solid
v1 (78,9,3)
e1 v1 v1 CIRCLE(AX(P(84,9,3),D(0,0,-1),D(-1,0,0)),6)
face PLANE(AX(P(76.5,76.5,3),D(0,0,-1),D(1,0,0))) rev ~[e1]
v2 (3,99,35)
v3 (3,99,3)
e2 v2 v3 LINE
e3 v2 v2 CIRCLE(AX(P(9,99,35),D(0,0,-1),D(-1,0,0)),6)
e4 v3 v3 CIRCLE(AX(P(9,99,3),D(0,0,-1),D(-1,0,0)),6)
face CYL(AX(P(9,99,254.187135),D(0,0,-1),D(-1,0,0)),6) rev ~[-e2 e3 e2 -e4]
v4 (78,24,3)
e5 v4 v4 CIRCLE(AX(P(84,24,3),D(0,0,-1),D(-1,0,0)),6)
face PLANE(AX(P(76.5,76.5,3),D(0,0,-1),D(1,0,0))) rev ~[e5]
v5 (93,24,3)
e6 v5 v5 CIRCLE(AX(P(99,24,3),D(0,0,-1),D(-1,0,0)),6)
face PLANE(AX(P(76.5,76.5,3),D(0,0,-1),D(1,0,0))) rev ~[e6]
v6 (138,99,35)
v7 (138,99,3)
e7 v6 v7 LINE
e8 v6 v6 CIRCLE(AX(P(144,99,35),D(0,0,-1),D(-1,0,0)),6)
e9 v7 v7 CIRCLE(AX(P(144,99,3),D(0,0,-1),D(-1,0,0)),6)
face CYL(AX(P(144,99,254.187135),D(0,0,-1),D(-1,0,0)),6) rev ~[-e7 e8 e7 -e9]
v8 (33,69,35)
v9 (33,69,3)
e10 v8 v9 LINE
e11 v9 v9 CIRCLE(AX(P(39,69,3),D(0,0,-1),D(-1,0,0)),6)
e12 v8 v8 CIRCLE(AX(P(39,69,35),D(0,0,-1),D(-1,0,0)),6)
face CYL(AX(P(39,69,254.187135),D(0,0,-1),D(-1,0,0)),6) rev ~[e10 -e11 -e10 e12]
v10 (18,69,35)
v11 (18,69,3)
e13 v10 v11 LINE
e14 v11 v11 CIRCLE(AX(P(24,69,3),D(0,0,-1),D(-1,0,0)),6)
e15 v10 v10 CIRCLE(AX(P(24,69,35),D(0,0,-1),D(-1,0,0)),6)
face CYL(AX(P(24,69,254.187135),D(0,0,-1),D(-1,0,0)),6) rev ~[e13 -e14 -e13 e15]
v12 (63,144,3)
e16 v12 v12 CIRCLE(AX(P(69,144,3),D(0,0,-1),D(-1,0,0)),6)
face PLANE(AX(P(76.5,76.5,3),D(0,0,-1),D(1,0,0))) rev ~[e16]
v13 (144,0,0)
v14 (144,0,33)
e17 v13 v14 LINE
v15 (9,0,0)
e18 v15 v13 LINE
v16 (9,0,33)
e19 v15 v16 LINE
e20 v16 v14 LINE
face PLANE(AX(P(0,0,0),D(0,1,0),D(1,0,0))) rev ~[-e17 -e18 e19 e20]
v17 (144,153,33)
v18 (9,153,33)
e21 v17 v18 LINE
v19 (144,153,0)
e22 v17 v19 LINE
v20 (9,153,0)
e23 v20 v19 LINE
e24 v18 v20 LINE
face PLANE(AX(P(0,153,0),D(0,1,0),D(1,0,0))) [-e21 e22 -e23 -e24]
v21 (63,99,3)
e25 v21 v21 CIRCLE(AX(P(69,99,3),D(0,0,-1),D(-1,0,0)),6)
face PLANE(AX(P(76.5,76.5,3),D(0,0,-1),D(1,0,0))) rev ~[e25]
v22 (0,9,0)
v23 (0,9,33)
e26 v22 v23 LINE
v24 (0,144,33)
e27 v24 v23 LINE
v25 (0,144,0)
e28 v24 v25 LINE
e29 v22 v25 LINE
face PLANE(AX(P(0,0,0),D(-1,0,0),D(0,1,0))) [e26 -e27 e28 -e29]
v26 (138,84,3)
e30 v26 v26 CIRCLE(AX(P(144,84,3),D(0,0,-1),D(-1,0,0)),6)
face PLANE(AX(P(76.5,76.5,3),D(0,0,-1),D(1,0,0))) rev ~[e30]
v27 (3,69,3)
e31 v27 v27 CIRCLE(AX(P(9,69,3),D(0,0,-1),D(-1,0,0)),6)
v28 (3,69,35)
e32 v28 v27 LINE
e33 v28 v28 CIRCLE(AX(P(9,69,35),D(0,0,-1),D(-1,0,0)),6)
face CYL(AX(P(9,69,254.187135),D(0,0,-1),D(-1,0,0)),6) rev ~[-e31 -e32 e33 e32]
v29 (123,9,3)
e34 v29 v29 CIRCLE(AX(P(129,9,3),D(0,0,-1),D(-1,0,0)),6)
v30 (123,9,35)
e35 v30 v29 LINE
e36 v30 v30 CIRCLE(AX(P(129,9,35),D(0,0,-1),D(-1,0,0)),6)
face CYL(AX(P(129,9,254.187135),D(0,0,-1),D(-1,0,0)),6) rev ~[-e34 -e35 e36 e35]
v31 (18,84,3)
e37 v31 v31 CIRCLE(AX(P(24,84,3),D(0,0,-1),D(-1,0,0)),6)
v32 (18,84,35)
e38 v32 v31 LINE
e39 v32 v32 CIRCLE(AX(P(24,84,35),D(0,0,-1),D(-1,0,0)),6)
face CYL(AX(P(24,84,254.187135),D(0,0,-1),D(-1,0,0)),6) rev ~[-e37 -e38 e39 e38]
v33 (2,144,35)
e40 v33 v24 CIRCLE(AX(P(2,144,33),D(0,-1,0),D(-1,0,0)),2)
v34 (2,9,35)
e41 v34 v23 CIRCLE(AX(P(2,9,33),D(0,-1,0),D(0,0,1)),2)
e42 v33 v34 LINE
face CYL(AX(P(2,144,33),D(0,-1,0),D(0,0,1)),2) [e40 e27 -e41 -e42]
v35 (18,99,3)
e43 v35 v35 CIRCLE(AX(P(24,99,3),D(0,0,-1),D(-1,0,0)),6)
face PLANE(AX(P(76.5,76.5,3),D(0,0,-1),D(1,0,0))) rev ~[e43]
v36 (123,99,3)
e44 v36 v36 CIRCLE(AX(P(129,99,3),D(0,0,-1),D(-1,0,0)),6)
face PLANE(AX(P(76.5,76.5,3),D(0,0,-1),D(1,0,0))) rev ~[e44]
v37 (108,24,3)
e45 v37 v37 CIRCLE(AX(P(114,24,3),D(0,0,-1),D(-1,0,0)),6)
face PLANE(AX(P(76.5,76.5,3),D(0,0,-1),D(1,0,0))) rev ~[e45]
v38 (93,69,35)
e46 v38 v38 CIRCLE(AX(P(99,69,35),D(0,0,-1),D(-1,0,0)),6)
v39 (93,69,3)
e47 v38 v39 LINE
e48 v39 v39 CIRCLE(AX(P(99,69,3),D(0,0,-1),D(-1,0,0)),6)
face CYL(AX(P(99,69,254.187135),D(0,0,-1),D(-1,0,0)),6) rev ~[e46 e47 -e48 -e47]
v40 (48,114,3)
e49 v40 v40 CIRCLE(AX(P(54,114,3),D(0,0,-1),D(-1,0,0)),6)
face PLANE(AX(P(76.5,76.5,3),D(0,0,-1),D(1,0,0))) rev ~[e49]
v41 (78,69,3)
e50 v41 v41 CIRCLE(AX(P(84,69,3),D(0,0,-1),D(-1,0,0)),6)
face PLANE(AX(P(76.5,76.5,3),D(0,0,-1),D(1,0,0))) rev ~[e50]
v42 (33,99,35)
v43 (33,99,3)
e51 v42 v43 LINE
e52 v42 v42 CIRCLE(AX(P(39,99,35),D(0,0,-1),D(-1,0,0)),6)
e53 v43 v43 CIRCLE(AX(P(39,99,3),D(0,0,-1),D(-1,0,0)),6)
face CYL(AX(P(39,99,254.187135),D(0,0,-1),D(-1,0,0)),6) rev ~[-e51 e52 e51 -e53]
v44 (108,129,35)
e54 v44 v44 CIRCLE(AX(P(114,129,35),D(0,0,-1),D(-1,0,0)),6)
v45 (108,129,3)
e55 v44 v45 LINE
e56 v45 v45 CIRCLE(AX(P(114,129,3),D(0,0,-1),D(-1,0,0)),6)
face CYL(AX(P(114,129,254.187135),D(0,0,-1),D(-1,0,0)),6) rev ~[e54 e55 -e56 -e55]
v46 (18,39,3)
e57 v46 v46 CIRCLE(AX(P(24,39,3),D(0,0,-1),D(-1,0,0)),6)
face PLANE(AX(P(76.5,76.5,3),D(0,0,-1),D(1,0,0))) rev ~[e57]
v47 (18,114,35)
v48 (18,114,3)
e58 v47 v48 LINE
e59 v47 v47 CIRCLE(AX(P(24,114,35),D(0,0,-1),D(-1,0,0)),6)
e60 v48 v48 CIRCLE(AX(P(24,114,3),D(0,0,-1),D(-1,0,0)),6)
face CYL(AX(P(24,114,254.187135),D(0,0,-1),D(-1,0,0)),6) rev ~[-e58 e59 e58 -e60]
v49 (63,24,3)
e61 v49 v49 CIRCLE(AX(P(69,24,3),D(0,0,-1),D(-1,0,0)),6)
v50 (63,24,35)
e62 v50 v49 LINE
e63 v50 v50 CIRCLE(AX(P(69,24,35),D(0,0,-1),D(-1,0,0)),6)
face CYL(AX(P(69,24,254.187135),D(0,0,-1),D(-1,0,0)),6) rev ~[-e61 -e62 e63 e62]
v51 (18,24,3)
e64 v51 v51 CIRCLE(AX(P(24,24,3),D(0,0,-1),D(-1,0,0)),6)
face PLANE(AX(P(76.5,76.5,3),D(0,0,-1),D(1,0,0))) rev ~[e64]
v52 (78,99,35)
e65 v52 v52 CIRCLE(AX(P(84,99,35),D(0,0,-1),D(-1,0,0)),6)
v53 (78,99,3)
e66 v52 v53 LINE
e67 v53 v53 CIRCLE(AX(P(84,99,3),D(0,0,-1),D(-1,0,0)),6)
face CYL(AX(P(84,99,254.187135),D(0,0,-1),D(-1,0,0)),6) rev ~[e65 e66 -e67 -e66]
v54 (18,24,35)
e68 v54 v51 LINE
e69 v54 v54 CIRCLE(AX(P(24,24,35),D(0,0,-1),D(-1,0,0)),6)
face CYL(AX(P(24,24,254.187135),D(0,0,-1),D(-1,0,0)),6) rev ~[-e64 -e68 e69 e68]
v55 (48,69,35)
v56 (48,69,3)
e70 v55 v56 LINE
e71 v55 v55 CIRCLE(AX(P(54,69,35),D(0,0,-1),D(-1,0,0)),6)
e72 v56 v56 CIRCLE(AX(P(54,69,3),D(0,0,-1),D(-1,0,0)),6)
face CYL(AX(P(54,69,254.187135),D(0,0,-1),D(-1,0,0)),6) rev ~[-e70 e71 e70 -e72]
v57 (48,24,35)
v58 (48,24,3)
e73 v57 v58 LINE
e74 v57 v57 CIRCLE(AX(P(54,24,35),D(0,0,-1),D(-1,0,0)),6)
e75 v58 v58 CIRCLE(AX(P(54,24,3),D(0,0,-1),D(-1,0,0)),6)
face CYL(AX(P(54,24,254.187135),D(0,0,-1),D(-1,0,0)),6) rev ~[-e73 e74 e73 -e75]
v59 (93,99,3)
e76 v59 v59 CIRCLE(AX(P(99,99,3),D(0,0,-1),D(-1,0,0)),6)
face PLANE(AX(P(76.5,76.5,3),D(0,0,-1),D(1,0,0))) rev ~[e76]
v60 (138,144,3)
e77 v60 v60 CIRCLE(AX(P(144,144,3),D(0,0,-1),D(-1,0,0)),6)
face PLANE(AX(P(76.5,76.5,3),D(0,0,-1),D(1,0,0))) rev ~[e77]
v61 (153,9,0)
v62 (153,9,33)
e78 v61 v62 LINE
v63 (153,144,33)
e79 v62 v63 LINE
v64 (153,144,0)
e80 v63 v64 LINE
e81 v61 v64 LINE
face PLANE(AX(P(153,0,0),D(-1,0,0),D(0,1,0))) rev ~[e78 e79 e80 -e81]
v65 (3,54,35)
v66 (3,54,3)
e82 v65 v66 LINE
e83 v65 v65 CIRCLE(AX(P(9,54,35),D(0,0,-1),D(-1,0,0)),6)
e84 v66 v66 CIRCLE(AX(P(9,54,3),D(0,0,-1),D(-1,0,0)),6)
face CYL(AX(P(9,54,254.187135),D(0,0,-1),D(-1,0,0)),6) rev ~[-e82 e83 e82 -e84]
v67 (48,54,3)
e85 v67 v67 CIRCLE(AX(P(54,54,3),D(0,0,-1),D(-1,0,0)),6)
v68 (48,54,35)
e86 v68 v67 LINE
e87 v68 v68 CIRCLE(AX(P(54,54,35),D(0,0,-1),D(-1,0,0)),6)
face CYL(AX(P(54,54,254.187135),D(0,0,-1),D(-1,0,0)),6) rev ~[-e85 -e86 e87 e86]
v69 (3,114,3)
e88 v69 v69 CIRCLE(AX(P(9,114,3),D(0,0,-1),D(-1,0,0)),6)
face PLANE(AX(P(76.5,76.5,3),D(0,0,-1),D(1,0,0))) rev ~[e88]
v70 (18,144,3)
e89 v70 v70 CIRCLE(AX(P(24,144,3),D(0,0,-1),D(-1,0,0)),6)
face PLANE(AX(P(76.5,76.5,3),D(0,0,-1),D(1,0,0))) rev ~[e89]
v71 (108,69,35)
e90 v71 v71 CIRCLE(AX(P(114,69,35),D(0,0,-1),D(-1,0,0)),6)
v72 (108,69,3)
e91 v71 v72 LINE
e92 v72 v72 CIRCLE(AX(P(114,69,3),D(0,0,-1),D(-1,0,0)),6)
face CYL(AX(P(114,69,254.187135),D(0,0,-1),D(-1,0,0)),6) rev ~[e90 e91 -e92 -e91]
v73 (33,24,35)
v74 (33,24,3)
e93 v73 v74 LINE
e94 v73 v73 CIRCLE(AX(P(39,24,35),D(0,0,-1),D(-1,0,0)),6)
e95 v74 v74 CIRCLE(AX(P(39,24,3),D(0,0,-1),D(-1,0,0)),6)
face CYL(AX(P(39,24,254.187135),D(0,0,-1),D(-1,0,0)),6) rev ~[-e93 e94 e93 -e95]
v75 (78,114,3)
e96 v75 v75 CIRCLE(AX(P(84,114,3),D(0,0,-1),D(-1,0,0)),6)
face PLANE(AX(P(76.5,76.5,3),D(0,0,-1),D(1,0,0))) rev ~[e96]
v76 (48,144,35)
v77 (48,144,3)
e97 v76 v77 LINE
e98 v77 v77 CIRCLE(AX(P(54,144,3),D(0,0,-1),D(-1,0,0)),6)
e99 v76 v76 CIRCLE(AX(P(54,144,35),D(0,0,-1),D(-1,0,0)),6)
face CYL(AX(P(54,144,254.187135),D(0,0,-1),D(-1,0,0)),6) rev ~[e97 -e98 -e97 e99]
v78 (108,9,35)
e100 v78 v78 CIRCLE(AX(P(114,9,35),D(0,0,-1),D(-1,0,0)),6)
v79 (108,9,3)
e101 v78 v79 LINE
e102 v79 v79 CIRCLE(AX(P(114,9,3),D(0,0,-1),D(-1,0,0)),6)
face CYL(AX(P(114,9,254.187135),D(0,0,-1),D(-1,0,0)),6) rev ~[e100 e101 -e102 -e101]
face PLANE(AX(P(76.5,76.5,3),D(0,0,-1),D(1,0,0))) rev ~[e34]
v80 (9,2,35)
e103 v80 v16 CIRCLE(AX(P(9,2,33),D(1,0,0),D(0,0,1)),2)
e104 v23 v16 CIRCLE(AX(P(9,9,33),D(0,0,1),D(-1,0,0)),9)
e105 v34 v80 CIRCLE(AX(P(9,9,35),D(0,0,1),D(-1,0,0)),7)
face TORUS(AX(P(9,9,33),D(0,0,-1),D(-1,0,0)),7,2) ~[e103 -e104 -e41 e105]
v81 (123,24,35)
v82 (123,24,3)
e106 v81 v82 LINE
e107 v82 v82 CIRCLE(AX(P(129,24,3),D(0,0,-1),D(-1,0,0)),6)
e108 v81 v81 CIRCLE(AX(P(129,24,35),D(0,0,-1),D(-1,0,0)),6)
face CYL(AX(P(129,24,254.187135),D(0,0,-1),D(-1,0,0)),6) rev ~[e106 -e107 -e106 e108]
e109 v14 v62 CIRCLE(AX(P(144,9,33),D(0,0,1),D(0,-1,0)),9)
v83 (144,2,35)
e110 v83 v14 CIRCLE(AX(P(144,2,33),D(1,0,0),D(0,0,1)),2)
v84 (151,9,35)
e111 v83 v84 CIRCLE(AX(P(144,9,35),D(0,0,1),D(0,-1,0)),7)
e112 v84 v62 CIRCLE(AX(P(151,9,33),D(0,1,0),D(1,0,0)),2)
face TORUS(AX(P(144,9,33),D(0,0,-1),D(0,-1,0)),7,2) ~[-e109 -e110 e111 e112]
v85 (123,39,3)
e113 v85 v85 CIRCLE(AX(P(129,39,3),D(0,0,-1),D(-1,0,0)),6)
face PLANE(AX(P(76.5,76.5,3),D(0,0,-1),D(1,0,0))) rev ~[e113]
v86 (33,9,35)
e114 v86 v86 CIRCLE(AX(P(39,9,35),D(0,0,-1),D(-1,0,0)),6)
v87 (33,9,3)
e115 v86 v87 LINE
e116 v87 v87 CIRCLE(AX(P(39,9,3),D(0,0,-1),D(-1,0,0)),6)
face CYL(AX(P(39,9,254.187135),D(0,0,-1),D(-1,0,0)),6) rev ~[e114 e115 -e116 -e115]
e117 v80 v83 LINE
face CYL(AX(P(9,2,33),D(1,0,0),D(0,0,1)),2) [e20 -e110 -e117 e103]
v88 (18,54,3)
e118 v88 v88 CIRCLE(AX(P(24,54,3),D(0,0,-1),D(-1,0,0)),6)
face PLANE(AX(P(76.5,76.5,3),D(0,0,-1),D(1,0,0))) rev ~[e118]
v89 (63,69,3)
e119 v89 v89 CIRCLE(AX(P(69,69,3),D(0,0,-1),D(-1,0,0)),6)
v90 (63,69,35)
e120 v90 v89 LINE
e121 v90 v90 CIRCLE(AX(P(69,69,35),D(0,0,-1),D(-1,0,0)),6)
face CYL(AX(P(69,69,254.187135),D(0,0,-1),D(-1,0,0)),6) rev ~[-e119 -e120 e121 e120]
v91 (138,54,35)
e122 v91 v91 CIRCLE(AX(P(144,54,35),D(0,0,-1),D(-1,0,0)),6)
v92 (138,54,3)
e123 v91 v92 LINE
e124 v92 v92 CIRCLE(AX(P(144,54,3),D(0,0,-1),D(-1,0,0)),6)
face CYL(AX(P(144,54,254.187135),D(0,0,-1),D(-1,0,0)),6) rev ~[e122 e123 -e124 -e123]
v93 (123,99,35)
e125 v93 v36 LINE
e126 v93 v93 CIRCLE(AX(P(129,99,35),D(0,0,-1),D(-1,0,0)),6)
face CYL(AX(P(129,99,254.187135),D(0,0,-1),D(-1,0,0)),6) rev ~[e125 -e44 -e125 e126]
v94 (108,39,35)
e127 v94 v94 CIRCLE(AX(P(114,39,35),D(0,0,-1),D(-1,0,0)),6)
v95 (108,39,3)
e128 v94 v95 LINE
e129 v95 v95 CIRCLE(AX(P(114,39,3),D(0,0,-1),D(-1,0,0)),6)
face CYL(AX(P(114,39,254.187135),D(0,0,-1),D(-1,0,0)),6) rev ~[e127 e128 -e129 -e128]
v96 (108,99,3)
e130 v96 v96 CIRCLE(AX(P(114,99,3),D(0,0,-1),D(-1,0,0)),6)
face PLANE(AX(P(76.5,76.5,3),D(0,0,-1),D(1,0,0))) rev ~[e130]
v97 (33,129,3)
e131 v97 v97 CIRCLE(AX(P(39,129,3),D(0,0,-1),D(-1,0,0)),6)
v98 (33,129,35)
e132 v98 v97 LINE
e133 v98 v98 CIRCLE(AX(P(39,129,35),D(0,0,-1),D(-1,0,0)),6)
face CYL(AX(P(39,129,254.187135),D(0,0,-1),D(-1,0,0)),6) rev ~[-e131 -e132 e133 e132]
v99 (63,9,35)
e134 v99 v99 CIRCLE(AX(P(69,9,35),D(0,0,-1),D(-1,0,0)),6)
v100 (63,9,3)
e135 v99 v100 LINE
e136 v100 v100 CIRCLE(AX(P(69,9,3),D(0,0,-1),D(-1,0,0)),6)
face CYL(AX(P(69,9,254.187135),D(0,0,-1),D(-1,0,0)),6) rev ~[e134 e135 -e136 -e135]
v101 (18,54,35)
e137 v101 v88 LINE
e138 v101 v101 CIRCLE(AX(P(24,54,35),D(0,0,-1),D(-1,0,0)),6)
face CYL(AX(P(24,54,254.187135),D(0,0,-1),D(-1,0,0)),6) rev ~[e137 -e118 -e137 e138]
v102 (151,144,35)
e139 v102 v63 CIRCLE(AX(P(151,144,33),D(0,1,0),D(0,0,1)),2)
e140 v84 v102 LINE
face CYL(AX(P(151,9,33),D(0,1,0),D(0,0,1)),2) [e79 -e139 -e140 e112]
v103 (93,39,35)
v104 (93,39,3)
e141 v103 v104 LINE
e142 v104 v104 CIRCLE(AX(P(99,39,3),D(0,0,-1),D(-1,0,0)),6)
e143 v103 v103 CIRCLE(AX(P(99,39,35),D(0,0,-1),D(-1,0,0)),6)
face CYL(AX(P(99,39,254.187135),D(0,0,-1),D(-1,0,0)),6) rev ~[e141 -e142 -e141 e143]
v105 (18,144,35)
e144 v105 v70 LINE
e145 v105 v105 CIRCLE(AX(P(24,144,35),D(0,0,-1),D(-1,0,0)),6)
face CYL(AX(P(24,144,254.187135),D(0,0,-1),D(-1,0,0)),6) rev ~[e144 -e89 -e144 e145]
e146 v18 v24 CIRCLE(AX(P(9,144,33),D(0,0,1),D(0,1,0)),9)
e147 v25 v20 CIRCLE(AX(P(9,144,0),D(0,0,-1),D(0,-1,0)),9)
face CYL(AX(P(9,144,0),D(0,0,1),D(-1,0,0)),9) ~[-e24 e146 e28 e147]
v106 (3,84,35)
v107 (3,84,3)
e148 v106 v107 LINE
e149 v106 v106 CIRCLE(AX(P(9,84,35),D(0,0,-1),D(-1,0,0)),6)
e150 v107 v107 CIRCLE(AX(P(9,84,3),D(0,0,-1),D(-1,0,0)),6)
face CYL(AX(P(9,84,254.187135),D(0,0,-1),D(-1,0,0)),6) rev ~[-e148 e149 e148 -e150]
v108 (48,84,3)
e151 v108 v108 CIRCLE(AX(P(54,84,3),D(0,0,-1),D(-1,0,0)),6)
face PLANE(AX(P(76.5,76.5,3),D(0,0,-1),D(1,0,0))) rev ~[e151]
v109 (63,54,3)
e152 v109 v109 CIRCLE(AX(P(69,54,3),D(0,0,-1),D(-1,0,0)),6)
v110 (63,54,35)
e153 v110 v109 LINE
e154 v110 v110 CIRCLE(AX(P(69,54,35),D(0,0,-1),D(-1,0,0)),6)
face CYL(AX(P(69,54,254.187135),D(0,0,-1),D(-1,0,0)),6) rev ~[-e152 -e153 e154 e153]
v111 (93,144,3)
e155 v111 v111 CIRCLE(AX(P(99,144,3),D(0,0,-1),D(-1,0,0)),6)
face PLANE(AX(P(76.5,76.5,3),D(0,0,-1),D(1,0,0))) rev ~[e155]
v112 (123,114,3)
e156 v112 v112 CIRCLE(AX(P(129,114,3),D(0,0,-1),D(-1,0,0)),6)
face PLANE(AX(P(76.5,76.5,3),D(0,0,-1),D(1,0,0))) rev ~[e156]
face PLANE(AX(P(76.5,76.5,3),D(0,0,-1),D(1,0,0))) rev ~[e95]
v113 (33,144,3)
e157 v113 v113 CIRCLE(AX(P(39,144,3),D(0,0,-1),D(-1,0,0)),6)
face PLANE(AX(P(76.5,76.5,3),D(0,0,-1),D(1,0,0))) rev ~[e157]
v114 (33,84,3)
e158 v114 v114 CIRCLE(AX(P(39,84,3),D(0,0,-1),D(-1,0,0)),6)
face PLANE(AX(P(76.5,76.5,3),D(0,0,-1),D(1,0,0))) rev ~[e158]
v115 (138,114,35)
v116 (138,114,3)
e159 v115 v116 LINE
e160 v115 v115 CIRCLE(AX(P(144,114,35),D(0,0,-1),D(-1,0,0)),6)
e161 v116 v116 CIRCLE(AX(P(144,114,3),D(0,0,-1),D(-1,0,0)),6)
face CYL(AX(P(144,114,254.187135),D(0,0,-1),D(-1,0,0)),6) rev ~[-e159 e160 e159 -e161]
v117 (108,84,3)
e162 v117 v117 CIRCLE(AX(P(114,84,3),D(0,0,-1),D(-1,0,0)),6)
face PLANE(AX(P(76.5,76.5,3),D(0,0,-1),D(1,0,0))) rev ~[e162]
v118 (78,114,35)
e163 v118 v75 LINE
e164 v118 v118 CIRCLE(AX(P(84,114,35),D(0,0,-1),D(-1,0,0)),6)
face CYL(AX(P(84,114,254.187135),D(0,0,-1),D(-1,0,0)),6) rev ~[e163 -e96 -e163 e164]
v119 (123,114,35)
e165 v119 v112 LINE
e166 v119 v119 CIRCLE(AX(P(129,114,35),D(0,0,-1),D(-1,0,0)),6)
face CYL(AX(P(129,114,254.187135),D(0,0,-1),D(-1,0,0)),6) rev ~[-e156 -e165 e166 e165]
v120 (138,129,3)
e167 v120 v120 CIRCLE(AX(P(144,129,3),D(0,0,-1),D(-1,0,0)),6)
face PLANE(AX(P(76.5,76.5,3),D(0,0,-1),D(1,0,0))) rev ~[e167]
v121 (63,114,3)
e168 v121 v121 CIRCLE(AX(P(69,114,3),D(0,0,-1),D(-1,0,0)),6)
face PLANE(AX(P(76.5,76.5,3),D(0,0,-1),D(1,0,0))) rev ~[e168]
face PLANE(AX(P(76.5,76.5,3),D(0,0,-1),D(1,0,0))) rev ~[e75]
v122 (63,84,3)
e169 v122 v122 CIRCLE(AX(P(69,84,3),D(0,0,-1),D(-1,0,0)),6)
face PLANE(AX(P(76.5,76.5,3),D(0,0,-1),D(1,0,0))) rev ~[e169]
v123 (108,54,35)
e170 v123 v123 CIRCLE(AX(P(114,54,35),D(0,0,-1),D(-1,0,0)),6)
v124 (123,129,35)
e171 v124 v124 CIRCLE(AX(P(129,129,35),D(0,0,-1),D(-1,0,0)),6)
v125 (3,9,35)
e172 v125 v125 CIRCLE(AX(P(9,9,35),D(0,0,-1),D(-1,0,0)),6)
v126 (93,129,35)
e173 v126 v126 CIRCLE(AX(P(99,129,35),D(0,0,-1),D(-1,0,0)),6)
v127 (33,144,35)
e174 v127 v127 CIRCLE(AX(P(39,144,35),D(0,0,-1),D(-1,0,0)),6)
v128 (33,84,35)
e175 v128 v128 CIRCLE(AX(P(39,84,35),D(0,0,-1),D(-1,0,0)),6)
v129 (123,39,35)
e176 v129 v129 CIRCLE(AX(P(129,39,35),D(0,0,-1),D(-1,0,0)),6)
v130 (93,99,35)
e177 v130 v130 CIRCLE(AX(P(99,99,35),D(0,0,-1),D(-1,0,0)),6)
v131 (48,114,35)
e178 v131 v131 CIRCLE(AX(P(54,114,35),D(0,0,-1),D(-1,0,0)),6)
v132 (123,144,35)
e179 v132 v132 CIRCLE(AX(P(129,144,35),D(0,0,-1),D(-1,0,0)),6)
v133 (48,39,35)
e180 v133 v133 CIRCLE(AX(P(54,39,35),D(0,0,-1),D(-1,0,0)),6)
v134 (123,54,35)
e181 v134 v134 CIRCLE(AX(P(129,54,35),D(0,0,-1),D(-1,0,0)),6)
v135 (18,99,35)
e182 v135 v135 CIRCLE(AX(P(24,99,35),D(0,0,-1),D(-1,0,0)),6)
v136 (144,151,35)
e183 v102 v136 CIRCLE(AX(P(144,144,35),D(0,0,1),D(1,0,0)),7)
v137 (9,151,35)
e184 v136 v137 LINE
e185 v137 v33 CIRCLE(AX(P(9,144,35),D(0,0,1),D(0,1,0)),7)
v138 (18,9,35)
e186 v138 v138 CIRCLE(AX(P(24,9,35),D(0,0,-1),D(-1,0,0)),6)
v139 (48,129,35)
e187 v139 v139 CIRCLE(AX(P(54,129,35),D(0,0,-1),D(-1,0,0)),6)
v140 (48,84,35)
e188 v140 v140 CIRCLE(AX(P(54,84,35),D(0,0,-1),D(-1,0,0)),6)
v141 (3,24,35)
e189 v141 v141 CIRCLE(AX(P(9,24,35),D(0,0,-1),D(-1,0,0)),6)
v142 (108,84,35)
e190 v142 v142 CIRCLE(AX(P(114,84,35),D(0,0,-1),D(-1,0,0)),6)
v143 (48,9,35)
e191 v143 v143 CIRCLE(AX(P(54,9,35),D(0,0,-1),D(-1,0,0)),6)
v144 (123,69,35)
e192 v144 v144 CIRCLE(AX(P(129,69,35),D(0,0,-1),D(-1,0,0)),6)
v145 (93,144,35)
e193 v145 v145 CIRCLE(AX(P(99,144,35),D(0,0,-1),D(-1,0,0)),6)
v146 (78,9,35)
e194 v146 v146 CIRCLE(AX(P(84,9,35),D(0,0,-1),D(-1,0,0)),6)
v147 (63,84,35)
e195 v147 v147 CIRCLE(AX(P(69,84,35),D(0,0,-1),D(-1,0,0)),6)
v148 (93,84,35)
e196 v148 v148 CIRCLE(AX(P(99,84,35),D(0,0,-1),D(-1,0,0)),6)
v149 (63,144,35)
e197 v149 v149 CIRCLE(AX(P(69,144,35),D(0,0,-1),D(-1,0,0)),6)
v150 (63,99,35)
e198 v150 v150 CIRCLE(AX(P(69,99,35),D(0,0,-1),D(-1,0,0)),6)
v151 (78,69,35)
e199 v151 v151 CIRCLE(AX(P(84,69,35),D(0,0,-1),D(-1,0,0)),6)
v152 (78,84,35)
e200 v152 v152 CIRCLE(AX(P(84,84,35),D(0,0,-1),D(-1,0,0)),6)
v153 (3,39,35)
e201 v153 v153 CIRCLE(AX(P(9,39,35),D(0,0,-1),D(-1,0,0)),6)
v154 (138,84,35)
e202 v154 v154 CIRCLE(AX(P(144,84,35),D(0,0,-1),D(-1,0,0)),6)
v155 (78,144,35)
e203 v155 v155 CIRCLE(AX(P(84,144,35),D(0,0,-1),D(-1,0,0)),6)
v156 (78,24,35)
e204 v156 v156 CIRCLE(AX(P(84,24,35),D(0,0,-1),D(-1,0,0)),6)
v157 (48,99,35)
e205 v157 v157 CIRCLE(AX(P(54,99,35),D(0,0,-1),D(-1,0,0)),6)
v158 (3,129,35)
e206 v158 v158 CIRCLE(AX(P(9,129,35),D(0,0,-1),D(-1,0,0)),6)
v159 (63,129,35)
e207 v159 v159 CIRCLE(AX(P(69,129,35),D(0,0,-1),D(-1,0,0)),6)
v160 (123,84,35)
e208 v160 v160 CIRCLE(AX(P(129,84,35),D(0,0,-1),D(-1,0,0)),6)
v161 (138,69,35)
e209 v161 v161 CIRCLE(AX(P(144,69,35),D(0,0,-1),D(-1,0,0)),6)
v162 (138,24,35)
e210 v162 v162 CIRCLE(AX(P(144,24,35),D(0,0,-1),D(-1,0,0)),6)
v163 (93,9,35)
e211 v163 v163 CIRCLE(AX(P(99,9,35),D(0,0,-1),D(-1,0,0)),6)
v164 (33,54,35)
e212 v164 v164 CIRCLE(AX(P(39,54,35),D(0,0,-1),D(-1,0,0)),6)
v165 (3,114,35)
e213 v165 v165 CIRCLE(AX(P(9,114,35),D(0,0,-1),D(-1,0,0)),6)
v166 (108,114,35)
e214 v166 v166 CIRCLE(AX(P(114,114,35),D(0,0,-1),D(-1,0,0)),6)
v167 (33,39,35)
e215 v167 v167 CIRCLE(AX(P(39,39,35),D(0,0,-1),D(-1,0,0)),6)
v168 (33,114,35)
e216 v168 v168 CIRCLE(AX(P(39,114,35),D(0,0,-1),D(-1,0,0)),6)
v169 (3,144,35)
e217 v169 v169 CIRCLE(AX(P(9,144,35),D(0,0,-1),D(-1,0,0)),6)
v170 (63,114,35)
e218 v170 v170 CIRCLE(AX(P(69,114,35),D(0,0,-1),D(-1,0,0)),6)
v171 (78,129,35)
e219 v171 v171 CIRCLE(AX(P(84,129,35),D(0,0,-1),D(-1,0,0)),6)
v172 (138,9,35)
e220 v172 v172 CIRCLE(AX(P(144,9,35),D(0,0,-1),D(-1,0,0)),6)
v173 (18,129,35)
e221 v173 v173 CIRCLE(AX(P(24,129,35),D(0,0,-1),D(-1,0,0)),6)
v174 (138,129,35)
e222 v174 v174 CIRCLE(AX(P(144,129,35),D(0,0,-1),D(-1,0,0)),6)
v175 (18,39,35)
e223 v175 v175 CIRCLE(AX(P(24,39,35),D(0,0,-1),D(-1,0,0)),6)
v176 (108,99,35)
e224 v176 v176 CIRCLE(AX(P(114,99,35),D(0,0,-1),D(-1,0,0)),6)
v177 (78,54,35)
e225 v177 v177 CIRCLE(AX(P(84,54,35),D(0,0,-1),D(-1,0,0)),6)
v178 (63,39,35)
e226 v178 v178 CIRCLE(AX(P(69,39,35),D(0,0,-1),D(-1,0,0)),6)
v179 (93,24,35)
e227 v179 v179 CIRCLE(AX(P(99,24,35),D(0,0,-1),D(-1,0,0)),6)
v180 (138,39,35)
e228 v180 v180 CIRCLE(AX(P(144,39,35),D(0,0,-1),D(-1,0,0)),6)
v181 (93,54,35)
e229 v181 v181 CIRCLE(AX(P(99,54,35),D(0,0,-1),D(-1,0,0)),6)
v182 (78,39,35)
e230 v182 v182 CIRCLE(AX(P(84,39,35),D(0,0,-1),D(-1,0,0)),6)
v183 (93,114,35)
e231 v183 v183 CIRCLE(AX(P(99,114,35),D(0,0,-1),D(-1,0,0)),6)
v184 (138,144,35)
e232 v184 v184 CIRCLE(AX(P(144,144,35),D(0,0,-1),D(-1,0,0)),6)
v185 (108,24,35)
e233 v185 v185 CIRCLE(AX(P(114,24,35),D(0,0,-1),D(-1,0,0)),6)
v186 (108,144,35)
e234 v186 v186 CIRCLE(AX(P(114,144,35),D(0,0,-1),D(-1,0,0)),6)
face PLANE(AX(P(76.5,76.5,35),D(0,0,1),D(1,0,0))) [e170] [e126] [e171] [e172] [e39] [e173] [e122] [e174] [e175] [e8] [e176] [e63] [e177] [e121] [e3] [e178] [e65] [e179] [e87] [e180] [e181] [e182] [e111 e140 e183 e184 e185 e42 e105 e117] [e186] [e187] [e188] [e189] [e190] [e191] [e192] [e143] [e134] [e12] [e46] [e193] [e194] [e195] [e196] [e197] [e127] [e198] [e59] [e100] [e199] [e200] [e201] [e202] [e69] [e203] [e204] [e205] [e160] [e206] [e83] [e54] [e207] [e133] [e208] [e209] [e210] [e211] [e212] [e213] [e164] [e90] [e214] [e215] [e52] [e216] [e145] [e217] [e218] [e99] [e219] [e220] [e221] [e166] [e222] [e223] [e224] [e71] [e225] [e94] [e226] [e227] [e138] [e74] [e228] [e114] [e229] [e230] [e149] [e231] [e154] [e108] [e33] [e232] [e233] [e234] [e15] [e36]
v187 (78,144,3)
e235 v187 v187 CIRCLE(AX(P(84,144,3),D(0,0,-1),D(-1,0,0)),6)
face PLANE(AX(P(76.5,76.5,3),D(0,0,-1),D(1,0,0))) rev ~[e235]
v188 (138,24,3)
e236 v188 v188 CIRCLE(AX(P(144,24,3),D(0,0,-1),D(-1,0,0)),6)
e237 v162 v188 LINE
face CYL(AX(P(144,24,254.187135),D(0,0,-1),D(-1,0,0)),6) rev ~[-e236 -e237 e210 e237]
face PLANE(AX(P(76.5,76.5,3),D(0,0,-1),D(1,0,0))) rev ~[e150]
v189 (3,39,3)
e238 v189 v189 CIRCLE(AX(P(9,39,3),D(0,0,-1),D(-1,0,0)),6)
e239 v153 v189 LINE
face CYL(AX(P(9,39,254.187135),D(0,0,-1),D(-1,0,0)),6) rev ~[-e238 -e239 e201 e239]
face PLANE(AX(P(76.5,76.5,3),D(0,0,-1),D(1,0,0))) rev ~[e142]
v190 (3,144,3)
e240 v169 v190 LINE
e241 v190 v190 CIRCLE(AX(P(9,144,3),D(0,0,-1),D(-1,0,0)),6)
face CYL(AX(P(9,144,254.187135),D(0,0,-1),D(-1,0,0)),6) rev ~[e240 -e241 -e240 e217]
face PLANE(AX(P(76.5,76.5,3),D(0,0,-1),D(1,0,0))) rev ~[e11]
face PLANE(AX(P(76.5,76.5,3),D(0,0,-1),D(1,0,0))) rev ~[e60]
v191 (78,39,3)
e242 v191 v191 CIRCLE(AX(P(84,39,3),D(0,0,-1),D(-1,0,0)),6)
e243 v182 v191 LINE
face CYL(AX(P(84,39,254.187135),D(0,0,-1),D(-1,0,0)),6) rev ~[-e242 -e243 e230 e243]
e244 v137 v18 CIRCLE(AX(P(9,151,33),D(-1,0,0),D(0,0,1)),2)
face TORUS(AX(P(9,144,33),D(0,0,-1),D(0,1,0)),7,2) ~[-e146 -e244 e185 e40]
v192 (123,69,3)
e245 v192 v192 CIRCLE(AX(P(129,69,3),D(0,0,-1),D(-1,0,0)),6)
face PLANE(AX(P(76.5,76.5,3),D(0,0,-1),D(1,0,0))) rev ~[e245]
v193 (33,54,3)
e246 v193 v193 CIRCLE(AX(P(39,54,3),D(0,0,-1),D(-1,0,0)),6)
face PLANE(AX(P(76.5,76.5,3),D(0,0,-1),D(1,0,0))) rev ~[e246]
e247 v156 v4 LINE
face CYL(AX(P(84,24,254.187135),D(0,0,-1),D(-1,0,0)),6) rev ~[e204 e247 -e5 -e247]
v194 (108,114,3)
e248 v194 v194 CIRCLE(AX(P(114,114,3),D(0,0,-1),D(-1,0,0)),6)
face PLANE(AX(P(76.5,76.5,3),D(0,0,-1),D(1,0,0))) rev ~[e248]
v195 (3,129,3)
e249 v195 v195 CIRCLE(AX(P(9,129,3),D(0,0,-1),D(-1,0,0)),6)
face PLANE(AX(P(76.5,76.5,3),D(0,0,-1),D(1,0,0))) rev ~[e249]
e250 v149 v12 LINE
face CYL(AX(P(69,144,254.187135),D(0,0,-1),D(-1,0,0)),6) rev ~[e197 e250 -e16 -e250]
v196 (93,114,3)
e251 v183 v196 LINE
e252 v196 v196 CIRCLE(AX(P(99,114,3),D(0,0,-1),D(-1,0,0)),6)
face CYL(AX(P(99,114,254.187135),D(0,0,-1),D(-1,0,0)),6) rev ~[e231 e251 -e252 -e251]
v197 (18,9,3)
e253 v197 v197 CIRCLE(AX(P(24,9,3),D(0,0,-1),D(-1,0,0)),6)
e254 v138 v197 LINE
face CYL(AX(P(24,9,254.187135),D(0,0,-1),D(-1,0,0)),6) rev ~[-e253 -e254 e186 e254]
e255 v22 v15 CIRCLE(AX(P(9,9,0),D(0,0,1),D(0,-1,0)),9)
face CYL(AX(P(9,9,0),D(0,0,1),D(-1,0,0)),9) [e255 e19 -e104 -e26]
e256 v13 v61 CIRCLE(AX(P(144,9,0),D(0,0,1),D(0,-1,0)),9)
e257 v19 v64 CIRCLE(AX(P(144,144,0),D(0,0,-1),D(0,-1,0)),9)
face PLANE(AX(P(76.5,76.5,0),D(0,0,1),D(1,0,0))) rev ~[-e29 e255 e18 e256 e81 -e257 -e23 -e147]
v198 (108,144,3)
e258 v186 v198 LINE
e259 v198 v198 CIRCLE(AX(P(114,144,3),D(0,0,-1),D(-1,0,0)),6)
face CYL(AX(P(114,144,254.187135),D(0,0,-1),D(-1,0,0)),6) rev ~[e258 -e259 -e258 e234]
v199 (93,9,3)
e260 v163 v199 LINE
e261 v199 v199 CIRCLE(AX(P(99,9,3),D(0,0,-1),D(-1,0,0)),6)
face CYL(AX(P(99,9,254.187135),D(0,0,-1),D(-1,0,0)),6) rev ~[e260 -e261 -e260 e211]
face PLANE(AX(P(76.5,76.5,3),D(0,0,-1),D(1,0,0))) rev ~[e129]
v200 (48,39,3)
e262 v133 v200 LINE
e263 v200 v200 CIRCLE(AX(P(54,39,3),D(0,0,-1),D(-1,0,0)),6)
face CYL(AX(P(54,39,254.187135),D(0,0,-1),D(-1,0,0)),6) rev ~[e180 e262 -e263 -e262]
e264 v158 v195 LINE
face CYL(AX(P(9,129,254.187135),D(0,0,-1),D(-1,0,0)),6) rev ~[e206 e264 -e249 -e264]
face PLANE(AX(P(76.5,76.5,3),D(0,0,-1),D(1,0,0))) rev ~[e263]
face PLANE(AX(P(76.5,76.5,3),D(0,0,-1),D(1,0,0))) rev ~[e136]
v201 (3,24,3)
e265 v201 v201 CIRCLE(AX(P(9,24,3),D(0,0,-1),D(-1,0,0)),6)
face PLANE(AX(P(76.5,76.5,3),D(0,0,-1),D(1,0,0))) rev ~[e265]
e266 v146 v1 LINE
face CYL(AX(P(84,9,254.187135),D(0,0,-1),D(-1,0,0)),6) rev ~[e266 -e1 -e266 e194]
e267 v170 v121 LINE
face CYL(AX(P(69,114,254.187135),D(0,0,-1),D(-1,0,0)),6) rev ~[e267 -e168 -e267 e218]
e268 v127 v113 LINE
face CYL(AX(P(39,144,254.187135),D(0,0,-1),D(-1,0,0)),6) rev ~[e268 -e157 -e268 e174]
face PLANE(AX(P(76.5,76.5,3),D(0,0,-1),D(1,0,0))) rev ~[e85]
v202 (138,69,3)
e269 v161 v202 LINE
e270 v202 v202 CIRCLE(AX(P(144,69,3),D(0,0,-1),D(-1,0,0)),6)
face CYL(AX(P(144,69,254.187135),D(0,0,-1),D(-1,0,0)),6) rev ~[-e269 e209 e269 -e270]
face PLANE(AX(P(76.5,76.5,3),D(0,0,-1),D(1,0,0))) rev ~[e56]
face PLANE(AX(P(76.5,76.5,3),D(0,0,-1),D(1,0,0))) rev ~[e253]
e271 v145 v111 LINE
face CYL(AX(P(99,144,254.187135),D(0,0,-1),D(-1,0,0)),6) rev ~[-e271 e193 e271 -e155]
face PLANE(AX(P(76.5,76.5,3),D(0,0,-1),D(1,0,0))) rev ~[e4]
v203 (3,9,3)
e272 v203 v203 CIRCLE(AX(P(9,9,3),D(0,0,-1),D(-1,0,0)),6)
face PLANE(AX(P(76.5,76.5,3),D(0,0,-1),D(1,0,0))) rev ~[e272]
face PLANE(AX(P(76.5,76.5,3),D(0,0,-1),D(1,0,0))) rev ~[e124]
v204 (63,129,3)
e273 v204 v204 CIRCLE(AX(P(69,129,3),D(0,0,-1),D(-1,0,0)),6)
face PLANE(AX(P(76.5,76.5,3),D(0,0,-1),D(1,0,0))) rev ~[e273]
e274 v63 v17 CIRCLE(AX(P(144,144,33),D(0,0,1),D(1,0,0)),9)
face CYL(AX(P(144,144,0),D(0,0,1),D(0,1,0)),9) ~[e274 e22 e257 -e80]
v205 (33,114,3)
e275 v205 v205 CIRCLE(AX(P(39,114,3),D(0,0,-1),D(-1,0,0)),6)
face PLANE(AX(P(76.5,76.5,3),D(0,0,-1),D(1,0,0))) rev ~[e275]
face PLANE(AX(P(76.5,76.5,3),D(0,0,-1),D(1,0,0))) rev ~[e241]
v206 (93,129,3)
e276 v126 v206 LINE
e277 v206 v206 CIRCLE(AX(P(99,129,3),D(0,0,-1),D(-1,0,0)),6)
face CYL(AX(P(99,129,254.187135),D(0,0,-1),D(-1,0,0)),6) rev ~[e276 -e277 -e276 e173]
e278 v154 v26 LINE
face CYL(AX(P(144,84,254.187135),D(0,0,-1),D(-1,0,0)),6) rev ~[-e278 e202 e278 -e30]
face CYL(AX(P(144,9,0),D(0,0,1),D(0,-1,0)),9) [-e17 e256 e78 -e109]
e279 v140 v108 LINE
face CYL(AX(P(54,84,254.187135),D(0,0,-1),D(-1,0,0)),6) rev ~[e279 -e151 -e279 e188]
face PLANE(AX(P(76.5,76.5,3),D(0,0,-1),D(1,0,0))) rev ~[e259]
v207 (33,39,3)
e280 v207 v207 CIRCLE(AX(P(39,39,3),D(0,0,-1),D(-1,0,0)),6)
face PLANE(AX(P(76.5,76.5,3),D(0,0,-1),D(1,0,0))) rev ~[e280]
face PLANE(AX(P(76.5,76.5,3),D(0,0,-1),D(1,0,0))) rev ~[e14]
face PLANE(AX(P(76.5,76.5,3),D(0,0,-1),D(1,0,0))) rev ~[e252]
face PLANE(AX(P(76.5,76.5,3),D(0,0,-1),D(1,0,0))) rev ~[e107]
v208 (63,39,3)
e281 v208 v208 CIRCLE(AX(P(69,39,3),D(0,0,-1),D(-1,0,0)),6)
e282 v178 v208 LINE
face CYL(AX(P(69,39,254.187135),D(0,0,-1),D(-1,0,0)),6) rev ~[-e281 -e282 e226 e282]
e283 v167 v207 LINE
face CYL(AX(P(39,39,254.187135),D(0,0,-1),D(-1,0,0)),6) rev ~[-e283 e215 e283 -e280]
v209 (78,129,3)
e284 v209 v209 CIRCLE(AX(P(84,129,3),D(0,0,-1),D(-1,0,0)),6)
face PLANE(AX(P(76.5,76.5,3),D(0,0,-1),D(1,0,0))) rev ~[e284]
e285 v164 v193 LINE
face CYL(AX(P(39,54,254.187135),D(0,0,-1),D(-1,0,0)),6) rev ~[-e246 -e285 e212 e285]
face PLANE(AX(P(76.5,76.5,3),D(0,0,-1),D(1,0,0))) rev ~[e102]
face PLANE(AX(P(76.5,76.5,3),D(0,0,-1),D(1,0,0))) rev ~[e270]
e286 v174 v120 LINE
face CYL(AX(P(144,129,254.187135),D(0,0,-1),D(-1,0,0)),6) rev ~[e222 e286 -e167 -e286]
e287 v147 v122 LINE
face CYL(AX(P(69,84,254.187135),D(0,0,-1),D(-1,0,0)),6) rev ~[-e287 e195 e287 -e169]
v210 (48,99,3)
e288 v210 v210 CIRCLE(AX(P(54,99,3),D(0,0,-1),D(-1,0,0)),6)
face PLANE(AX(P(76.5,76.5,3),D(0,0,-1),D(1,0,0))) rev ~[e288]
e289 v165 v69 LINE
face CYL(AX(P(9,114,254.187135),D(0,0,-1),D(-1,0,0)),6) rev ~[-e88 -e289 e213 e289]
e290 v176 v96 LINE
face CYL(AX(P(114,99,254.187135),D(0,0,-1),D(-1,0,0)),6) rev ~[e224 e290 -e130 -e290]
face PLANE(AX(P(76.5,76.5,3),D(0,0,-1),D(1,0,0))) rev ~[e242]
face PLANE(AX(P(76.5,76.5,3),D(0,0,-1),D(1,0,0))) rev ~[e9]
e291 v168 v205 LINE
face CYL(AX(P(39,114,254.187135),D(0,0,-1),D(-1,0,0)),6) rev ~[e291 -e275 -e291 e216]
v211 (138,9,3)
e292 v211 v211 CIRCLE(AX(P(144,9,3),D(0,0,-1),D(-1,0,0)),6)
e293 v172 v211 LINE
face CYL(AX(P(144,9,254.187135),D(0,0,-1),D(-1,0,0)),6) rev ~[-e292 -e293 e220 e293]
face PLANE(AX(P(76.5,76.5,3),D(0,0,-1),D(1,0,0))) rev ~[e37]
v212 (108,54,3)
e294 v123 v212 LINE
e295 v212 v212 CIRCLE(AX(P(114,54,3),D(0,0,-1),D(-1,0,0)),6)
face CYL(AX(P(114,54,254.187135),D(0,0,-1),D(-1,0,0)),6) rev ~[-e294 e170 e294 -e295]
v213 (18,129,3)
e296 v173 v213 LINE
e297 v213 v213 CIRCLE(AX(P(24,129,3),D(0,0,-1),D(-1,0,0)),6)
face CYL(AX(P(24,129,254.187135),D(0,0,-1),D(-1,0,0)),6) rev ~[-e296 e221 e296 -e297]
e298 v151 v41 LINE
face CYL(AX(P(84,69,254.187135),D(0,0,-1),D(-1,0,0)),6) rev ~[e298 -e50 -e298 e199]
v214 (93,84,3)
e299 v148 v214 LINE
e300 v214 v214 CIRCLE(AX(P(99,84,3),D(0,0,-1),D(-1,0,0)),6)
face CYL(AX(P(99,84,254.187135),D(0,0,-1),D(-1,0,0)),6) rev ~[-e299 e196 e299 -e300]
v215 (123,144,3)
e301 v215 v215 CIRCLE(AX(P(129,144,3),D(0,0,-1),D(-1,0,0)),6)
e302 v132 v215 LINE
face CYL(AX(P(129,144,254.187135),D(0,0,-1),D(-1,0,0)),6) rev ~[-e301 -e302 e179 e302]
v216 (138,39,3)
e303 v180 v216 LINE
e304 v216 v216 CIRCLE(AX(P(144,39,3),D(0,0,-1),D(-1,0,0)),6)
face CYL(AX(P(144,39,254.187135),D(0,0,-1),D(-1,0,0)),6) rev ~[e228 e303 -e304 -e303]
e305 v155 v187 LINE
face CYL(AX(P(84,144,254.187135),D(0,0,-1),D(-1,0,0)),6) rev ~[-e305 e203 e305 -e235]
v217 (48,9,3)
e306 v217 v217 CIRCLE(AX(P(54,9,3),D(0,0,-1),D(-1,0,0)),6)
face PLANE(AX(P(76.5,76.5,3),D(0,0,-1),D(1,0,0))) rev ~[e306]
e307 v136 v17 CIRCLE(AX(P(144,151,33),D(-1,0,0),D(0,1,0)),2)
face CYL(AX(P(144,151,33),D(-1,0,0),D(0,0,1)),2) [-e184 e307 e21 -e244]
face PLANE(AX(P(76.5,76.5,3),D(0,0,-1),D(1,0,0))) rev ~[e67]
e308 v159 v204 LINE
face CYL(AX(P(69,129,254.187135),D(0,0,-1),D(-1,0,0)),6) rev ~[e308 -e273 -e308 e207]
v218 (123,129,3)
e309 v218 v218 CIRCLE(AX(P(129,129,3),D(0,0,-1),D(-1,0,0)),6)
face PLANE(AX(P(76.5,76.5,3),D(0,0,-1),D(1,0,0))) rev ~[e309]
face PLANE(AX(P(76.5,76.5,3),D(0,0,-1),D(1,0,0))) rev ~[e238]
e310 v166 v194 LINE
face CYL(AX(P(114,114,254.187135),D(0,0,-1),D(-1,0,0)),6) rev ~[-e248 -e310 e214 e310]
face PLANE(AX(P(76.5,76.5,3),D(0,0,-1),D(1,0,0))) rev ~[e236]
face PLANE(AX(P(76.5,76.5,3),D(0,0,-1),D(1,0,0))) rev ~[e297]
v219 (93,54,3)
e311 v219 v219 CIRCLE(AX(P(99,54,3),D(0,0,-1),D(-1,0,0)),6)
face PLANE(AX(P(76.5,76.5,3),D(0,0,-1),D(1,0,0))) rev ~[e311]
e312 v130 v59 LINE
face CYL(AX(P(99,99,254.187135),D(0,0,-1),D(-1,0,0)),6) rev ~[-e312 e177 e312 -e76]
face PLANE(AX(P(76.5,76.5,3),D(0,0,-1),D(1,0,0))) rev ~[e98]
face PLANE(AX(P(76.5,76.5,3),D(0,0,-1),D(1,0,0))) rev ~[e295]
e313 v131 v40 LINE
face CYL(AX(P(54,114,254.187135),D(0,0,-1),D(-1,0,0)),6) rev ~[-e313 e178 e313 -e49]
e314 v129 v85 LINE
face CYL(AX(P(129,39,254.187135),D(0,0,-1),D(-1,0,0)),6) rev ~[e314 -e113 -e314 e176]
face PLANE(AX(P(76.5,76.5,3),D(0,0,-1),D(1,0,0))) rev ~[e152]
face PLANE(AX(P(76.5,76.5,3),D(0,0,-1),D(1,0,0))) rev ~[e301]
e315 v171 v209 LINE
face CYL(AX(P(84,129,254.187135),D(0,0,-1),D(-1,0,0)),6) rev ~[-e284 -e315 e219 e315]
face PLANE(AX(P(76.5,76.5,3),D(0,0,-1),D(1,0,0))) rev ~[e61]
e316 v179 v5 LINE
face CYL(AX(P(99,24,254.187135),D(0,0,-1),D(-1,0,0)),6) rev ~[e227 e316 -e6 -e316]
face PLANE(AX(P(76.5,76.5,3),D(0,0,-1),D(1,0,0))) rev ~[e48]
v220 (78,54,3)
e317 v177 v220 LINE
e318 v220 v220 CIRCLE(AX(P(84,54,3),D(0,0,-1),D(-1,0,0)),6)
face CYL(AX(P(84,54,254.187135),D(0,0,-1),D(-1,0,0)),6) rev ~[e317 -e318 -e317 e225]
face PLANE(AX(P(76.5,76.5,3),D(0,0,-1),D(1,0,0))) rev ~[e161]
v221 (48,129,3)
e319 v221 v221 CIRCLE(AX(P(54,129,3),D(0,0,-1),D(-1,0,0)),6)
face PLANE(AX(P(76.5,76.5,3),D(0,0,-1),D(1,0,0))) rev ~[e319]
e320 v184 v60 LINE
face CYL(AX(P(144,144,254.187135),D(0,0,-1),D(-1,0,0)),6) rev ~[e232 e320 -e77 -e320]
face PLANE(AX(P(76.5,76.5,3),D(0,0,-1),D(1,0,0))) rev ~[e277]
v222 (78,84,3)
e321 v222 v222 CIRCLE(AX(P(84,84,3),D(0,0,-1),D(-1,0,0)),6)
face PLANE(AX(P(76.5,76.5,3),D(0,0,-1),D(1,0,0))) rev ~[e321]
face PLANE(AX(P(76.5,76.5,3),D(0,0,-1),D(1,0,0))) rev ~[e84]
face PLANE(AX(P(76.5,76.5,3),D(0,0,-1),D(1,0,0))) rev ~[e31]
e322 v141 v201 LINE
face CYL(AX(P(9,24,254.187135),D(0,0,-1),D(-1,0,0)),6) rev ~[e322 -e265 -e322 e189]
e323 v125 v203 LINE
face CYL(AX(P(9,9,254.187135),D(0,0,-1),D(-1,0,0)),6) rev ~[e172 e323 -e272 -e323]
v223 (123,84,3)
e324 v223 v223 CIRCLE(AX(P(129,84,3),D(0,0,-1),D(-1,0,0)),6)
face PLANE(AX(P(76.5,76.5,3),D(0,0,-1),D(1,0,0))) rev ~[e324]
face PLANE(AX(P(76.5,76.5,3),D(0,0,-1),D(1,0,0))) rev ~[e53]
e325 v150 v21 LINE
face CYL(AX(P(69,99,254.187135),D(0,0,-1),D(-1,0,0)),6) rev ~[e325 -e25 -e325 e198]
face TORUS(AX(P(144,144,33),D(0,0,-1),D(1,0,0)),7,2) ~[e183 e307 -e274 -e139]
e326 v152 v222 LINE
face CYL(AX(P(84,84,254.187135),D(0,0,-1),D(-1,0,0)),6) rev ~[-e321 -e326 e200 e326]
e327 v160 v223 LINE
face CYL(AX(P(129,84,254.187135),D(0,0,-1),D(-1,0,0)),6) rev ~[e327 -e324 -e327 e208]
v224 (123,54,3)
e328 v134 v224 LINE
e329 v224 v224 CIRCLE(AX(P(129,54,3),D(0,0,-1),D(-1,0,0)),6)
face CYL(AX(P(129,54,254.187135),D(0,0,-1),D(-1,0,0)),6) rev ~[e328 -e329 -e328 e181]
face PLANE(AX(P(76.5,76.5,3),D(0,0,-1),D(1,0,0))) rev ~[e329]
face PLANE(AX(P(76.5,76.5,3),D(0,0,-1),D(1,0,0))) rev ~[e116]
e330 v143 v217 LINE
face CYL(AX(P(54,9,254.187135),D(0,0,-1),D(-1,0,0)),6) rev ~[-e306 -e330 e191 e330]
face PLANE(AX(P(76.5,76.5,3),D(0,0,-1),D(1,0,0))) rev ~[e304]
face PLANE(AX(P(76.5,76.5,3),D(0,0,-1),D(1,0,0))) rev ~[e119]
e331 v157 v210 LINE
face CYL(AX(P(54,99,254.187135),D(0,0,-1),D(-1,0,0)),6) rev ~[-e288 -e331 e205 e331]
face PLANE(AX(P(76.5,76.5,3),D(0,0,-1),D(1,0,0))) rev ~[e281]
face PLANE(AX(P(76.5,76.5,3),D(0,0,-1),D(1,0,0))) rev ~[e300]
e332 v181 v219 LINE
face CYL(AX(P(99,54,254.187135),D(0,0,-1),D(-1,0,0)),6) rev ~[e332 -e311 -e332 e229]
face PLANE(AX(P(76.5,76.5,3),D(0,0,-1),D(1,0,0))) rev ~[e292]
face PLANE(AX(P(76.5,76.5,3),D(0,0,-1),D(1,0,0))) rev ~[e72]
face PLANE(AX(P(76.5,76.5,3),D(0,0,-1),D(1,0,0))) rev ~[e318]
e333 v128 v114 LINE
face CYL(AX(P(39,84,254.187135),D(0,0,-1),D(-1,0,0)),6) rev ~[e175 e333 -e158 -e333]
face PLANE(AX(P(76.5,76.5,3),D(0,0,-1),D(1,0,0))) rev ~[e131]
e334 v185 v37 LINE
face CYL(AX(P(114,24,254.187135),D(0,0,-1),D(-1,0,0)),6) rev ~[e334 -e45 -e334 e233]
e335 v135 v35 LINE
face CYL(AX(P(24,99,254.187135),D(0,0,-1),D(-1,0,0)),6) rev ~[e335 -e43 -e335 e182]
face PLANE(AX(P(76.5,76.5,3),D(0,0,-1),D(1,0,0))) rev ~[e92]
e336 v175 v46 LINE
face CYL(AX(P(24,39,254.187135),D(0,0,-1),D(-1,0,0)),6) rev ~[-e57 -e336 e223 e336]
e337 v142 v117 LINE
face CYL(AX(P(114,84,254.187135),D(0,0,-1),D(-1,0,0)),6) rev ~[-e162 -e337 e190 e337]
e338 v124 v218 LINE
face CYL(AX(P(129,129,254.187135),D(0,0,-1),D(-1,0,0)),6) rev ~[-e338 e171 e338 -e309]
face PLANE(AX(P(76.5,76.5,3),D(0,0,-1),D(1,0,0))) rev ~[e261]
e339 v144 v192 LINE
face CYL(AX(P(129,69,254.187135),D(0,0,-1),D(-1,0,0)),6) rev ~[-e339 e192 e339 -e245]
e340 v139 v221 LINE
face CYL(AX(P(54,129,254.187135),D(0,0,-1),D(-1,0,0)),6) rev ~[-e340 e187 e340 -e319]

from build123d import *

# Parameters (mm, degrees)
F0_W     = 153
F0_H     = 153
F1_DEPTH = 35
F3_D     = 12
F4_R     = 9
F5_R     = 2
F7_DEPTH = 3


with BuildPart() as f1:
    # F0 (on Top) → F1 (new body)
    with BuildSketch(Plane.XY):
        with Locations((76.5, 76.5)):
            Rectangle(F0_W, F0_H)
    extrude(amount=F1_DEPTH)

    # F3 (through all)
    with Locations(Plane.XY.offset(35)):
        with Locations((9, 144), (9, 129), (9, 114), (9, 99), (9, 84), (9, 69), (9, 54), (9, 39), (9, 24), (9, 9), (24, 9), (24, 24), (24, 39), (24, 54), (24, 69), (24, 84), (24, 99), (24, 114), (24, 129), (24, 144), (39, 144), (54, 144), (69, 144), (84, 144), (99, 144), (114, 144), (129, 144), (144, 144), (144, 129), (129, 129), (114, 129), (99, 129), (84, 129), (69, 129), (54, 129), (39, 129), (39, 114), (39, 99), (39, 84), (39, 69), (39, 54), (39, 39), (39, 24), (39, 9), (54, 9), (54, 24), (54, 39), (54, 54), (54, 69), (54, 84), (54, 99), (54, 114), (69, 114), (69, 99), (69, 84), (69, 69), (69, 54), (69, 39), (69, 24), (69, 9), (84, 9), (84, 24), (84, 39), (84, 54), (84, 69), (84, 84), (84, 99), (84, 114), (99, 114), (99, 99), (99, 84), (99, 69), (99, 54), (99, 39), (99, 24), (99, 9), (114, 9), (129, 9), (144, 9), (144, 24), (129, 24), (114, 24), (114, 39), (129, 39), (144, 39), (144, 54), (129, 54), (114, 54), (114, 69), (129, 69), (144, 69), (144, 84), (129, 84), (114, 84), (114, 99), (114, 114), (129, 114), (129, 99), (144, 99), (144, 114)):
            Hole(F3_D / 2)

    # F4
    f4_edges = [f1.edges().sort_by_distance(p)[0] for p in [
        (0, 153, 17.5),
        (0, 0, 17.5),
        (153, 0, 17.5),
        (153, 153, 17.5),
    ]]
    fillet(f4_edges, radius=F4_R)

    # F5
    f5_edges = [f1.edges().sort_by_distance(p)[0] for p in [
        (76.5, 0, 35),
        (150.363961, 2.636039, 35),
        (153, 76.5, 35),
    ]]
    fillet(f5_edges, radius=F5_R)

    # F6 (on face) → F7 (join)
    with BuildSketch(Plane(origin=(0, 0, 0), x_dir=(1, 0, 0), z_dir=(0, 0, -1))):
        with BuildLine():
            Line((144, 0), (9, 0))
            ThreePointArc((9, 0), (2.6360389693, -2.6360389693), (0, -9))
            Line((0, -9), (0, -144))
            ThreePointArc((0, -144), (2.6360389693, -150.3639610307), (9, -153))
            Line((9, -153), (144, -153))
            ThreePointArc((144, -153), (150.3639610307, -150.3639610307), (153, -144))
            Line((153, -144), (153, -9))
            ThreePointArc((153, -9), (150.3639610307, -2.6360389693), (144, 0))
        make_face()
    extrude(amount=-F7_DEPTH)


solid = f1.part
